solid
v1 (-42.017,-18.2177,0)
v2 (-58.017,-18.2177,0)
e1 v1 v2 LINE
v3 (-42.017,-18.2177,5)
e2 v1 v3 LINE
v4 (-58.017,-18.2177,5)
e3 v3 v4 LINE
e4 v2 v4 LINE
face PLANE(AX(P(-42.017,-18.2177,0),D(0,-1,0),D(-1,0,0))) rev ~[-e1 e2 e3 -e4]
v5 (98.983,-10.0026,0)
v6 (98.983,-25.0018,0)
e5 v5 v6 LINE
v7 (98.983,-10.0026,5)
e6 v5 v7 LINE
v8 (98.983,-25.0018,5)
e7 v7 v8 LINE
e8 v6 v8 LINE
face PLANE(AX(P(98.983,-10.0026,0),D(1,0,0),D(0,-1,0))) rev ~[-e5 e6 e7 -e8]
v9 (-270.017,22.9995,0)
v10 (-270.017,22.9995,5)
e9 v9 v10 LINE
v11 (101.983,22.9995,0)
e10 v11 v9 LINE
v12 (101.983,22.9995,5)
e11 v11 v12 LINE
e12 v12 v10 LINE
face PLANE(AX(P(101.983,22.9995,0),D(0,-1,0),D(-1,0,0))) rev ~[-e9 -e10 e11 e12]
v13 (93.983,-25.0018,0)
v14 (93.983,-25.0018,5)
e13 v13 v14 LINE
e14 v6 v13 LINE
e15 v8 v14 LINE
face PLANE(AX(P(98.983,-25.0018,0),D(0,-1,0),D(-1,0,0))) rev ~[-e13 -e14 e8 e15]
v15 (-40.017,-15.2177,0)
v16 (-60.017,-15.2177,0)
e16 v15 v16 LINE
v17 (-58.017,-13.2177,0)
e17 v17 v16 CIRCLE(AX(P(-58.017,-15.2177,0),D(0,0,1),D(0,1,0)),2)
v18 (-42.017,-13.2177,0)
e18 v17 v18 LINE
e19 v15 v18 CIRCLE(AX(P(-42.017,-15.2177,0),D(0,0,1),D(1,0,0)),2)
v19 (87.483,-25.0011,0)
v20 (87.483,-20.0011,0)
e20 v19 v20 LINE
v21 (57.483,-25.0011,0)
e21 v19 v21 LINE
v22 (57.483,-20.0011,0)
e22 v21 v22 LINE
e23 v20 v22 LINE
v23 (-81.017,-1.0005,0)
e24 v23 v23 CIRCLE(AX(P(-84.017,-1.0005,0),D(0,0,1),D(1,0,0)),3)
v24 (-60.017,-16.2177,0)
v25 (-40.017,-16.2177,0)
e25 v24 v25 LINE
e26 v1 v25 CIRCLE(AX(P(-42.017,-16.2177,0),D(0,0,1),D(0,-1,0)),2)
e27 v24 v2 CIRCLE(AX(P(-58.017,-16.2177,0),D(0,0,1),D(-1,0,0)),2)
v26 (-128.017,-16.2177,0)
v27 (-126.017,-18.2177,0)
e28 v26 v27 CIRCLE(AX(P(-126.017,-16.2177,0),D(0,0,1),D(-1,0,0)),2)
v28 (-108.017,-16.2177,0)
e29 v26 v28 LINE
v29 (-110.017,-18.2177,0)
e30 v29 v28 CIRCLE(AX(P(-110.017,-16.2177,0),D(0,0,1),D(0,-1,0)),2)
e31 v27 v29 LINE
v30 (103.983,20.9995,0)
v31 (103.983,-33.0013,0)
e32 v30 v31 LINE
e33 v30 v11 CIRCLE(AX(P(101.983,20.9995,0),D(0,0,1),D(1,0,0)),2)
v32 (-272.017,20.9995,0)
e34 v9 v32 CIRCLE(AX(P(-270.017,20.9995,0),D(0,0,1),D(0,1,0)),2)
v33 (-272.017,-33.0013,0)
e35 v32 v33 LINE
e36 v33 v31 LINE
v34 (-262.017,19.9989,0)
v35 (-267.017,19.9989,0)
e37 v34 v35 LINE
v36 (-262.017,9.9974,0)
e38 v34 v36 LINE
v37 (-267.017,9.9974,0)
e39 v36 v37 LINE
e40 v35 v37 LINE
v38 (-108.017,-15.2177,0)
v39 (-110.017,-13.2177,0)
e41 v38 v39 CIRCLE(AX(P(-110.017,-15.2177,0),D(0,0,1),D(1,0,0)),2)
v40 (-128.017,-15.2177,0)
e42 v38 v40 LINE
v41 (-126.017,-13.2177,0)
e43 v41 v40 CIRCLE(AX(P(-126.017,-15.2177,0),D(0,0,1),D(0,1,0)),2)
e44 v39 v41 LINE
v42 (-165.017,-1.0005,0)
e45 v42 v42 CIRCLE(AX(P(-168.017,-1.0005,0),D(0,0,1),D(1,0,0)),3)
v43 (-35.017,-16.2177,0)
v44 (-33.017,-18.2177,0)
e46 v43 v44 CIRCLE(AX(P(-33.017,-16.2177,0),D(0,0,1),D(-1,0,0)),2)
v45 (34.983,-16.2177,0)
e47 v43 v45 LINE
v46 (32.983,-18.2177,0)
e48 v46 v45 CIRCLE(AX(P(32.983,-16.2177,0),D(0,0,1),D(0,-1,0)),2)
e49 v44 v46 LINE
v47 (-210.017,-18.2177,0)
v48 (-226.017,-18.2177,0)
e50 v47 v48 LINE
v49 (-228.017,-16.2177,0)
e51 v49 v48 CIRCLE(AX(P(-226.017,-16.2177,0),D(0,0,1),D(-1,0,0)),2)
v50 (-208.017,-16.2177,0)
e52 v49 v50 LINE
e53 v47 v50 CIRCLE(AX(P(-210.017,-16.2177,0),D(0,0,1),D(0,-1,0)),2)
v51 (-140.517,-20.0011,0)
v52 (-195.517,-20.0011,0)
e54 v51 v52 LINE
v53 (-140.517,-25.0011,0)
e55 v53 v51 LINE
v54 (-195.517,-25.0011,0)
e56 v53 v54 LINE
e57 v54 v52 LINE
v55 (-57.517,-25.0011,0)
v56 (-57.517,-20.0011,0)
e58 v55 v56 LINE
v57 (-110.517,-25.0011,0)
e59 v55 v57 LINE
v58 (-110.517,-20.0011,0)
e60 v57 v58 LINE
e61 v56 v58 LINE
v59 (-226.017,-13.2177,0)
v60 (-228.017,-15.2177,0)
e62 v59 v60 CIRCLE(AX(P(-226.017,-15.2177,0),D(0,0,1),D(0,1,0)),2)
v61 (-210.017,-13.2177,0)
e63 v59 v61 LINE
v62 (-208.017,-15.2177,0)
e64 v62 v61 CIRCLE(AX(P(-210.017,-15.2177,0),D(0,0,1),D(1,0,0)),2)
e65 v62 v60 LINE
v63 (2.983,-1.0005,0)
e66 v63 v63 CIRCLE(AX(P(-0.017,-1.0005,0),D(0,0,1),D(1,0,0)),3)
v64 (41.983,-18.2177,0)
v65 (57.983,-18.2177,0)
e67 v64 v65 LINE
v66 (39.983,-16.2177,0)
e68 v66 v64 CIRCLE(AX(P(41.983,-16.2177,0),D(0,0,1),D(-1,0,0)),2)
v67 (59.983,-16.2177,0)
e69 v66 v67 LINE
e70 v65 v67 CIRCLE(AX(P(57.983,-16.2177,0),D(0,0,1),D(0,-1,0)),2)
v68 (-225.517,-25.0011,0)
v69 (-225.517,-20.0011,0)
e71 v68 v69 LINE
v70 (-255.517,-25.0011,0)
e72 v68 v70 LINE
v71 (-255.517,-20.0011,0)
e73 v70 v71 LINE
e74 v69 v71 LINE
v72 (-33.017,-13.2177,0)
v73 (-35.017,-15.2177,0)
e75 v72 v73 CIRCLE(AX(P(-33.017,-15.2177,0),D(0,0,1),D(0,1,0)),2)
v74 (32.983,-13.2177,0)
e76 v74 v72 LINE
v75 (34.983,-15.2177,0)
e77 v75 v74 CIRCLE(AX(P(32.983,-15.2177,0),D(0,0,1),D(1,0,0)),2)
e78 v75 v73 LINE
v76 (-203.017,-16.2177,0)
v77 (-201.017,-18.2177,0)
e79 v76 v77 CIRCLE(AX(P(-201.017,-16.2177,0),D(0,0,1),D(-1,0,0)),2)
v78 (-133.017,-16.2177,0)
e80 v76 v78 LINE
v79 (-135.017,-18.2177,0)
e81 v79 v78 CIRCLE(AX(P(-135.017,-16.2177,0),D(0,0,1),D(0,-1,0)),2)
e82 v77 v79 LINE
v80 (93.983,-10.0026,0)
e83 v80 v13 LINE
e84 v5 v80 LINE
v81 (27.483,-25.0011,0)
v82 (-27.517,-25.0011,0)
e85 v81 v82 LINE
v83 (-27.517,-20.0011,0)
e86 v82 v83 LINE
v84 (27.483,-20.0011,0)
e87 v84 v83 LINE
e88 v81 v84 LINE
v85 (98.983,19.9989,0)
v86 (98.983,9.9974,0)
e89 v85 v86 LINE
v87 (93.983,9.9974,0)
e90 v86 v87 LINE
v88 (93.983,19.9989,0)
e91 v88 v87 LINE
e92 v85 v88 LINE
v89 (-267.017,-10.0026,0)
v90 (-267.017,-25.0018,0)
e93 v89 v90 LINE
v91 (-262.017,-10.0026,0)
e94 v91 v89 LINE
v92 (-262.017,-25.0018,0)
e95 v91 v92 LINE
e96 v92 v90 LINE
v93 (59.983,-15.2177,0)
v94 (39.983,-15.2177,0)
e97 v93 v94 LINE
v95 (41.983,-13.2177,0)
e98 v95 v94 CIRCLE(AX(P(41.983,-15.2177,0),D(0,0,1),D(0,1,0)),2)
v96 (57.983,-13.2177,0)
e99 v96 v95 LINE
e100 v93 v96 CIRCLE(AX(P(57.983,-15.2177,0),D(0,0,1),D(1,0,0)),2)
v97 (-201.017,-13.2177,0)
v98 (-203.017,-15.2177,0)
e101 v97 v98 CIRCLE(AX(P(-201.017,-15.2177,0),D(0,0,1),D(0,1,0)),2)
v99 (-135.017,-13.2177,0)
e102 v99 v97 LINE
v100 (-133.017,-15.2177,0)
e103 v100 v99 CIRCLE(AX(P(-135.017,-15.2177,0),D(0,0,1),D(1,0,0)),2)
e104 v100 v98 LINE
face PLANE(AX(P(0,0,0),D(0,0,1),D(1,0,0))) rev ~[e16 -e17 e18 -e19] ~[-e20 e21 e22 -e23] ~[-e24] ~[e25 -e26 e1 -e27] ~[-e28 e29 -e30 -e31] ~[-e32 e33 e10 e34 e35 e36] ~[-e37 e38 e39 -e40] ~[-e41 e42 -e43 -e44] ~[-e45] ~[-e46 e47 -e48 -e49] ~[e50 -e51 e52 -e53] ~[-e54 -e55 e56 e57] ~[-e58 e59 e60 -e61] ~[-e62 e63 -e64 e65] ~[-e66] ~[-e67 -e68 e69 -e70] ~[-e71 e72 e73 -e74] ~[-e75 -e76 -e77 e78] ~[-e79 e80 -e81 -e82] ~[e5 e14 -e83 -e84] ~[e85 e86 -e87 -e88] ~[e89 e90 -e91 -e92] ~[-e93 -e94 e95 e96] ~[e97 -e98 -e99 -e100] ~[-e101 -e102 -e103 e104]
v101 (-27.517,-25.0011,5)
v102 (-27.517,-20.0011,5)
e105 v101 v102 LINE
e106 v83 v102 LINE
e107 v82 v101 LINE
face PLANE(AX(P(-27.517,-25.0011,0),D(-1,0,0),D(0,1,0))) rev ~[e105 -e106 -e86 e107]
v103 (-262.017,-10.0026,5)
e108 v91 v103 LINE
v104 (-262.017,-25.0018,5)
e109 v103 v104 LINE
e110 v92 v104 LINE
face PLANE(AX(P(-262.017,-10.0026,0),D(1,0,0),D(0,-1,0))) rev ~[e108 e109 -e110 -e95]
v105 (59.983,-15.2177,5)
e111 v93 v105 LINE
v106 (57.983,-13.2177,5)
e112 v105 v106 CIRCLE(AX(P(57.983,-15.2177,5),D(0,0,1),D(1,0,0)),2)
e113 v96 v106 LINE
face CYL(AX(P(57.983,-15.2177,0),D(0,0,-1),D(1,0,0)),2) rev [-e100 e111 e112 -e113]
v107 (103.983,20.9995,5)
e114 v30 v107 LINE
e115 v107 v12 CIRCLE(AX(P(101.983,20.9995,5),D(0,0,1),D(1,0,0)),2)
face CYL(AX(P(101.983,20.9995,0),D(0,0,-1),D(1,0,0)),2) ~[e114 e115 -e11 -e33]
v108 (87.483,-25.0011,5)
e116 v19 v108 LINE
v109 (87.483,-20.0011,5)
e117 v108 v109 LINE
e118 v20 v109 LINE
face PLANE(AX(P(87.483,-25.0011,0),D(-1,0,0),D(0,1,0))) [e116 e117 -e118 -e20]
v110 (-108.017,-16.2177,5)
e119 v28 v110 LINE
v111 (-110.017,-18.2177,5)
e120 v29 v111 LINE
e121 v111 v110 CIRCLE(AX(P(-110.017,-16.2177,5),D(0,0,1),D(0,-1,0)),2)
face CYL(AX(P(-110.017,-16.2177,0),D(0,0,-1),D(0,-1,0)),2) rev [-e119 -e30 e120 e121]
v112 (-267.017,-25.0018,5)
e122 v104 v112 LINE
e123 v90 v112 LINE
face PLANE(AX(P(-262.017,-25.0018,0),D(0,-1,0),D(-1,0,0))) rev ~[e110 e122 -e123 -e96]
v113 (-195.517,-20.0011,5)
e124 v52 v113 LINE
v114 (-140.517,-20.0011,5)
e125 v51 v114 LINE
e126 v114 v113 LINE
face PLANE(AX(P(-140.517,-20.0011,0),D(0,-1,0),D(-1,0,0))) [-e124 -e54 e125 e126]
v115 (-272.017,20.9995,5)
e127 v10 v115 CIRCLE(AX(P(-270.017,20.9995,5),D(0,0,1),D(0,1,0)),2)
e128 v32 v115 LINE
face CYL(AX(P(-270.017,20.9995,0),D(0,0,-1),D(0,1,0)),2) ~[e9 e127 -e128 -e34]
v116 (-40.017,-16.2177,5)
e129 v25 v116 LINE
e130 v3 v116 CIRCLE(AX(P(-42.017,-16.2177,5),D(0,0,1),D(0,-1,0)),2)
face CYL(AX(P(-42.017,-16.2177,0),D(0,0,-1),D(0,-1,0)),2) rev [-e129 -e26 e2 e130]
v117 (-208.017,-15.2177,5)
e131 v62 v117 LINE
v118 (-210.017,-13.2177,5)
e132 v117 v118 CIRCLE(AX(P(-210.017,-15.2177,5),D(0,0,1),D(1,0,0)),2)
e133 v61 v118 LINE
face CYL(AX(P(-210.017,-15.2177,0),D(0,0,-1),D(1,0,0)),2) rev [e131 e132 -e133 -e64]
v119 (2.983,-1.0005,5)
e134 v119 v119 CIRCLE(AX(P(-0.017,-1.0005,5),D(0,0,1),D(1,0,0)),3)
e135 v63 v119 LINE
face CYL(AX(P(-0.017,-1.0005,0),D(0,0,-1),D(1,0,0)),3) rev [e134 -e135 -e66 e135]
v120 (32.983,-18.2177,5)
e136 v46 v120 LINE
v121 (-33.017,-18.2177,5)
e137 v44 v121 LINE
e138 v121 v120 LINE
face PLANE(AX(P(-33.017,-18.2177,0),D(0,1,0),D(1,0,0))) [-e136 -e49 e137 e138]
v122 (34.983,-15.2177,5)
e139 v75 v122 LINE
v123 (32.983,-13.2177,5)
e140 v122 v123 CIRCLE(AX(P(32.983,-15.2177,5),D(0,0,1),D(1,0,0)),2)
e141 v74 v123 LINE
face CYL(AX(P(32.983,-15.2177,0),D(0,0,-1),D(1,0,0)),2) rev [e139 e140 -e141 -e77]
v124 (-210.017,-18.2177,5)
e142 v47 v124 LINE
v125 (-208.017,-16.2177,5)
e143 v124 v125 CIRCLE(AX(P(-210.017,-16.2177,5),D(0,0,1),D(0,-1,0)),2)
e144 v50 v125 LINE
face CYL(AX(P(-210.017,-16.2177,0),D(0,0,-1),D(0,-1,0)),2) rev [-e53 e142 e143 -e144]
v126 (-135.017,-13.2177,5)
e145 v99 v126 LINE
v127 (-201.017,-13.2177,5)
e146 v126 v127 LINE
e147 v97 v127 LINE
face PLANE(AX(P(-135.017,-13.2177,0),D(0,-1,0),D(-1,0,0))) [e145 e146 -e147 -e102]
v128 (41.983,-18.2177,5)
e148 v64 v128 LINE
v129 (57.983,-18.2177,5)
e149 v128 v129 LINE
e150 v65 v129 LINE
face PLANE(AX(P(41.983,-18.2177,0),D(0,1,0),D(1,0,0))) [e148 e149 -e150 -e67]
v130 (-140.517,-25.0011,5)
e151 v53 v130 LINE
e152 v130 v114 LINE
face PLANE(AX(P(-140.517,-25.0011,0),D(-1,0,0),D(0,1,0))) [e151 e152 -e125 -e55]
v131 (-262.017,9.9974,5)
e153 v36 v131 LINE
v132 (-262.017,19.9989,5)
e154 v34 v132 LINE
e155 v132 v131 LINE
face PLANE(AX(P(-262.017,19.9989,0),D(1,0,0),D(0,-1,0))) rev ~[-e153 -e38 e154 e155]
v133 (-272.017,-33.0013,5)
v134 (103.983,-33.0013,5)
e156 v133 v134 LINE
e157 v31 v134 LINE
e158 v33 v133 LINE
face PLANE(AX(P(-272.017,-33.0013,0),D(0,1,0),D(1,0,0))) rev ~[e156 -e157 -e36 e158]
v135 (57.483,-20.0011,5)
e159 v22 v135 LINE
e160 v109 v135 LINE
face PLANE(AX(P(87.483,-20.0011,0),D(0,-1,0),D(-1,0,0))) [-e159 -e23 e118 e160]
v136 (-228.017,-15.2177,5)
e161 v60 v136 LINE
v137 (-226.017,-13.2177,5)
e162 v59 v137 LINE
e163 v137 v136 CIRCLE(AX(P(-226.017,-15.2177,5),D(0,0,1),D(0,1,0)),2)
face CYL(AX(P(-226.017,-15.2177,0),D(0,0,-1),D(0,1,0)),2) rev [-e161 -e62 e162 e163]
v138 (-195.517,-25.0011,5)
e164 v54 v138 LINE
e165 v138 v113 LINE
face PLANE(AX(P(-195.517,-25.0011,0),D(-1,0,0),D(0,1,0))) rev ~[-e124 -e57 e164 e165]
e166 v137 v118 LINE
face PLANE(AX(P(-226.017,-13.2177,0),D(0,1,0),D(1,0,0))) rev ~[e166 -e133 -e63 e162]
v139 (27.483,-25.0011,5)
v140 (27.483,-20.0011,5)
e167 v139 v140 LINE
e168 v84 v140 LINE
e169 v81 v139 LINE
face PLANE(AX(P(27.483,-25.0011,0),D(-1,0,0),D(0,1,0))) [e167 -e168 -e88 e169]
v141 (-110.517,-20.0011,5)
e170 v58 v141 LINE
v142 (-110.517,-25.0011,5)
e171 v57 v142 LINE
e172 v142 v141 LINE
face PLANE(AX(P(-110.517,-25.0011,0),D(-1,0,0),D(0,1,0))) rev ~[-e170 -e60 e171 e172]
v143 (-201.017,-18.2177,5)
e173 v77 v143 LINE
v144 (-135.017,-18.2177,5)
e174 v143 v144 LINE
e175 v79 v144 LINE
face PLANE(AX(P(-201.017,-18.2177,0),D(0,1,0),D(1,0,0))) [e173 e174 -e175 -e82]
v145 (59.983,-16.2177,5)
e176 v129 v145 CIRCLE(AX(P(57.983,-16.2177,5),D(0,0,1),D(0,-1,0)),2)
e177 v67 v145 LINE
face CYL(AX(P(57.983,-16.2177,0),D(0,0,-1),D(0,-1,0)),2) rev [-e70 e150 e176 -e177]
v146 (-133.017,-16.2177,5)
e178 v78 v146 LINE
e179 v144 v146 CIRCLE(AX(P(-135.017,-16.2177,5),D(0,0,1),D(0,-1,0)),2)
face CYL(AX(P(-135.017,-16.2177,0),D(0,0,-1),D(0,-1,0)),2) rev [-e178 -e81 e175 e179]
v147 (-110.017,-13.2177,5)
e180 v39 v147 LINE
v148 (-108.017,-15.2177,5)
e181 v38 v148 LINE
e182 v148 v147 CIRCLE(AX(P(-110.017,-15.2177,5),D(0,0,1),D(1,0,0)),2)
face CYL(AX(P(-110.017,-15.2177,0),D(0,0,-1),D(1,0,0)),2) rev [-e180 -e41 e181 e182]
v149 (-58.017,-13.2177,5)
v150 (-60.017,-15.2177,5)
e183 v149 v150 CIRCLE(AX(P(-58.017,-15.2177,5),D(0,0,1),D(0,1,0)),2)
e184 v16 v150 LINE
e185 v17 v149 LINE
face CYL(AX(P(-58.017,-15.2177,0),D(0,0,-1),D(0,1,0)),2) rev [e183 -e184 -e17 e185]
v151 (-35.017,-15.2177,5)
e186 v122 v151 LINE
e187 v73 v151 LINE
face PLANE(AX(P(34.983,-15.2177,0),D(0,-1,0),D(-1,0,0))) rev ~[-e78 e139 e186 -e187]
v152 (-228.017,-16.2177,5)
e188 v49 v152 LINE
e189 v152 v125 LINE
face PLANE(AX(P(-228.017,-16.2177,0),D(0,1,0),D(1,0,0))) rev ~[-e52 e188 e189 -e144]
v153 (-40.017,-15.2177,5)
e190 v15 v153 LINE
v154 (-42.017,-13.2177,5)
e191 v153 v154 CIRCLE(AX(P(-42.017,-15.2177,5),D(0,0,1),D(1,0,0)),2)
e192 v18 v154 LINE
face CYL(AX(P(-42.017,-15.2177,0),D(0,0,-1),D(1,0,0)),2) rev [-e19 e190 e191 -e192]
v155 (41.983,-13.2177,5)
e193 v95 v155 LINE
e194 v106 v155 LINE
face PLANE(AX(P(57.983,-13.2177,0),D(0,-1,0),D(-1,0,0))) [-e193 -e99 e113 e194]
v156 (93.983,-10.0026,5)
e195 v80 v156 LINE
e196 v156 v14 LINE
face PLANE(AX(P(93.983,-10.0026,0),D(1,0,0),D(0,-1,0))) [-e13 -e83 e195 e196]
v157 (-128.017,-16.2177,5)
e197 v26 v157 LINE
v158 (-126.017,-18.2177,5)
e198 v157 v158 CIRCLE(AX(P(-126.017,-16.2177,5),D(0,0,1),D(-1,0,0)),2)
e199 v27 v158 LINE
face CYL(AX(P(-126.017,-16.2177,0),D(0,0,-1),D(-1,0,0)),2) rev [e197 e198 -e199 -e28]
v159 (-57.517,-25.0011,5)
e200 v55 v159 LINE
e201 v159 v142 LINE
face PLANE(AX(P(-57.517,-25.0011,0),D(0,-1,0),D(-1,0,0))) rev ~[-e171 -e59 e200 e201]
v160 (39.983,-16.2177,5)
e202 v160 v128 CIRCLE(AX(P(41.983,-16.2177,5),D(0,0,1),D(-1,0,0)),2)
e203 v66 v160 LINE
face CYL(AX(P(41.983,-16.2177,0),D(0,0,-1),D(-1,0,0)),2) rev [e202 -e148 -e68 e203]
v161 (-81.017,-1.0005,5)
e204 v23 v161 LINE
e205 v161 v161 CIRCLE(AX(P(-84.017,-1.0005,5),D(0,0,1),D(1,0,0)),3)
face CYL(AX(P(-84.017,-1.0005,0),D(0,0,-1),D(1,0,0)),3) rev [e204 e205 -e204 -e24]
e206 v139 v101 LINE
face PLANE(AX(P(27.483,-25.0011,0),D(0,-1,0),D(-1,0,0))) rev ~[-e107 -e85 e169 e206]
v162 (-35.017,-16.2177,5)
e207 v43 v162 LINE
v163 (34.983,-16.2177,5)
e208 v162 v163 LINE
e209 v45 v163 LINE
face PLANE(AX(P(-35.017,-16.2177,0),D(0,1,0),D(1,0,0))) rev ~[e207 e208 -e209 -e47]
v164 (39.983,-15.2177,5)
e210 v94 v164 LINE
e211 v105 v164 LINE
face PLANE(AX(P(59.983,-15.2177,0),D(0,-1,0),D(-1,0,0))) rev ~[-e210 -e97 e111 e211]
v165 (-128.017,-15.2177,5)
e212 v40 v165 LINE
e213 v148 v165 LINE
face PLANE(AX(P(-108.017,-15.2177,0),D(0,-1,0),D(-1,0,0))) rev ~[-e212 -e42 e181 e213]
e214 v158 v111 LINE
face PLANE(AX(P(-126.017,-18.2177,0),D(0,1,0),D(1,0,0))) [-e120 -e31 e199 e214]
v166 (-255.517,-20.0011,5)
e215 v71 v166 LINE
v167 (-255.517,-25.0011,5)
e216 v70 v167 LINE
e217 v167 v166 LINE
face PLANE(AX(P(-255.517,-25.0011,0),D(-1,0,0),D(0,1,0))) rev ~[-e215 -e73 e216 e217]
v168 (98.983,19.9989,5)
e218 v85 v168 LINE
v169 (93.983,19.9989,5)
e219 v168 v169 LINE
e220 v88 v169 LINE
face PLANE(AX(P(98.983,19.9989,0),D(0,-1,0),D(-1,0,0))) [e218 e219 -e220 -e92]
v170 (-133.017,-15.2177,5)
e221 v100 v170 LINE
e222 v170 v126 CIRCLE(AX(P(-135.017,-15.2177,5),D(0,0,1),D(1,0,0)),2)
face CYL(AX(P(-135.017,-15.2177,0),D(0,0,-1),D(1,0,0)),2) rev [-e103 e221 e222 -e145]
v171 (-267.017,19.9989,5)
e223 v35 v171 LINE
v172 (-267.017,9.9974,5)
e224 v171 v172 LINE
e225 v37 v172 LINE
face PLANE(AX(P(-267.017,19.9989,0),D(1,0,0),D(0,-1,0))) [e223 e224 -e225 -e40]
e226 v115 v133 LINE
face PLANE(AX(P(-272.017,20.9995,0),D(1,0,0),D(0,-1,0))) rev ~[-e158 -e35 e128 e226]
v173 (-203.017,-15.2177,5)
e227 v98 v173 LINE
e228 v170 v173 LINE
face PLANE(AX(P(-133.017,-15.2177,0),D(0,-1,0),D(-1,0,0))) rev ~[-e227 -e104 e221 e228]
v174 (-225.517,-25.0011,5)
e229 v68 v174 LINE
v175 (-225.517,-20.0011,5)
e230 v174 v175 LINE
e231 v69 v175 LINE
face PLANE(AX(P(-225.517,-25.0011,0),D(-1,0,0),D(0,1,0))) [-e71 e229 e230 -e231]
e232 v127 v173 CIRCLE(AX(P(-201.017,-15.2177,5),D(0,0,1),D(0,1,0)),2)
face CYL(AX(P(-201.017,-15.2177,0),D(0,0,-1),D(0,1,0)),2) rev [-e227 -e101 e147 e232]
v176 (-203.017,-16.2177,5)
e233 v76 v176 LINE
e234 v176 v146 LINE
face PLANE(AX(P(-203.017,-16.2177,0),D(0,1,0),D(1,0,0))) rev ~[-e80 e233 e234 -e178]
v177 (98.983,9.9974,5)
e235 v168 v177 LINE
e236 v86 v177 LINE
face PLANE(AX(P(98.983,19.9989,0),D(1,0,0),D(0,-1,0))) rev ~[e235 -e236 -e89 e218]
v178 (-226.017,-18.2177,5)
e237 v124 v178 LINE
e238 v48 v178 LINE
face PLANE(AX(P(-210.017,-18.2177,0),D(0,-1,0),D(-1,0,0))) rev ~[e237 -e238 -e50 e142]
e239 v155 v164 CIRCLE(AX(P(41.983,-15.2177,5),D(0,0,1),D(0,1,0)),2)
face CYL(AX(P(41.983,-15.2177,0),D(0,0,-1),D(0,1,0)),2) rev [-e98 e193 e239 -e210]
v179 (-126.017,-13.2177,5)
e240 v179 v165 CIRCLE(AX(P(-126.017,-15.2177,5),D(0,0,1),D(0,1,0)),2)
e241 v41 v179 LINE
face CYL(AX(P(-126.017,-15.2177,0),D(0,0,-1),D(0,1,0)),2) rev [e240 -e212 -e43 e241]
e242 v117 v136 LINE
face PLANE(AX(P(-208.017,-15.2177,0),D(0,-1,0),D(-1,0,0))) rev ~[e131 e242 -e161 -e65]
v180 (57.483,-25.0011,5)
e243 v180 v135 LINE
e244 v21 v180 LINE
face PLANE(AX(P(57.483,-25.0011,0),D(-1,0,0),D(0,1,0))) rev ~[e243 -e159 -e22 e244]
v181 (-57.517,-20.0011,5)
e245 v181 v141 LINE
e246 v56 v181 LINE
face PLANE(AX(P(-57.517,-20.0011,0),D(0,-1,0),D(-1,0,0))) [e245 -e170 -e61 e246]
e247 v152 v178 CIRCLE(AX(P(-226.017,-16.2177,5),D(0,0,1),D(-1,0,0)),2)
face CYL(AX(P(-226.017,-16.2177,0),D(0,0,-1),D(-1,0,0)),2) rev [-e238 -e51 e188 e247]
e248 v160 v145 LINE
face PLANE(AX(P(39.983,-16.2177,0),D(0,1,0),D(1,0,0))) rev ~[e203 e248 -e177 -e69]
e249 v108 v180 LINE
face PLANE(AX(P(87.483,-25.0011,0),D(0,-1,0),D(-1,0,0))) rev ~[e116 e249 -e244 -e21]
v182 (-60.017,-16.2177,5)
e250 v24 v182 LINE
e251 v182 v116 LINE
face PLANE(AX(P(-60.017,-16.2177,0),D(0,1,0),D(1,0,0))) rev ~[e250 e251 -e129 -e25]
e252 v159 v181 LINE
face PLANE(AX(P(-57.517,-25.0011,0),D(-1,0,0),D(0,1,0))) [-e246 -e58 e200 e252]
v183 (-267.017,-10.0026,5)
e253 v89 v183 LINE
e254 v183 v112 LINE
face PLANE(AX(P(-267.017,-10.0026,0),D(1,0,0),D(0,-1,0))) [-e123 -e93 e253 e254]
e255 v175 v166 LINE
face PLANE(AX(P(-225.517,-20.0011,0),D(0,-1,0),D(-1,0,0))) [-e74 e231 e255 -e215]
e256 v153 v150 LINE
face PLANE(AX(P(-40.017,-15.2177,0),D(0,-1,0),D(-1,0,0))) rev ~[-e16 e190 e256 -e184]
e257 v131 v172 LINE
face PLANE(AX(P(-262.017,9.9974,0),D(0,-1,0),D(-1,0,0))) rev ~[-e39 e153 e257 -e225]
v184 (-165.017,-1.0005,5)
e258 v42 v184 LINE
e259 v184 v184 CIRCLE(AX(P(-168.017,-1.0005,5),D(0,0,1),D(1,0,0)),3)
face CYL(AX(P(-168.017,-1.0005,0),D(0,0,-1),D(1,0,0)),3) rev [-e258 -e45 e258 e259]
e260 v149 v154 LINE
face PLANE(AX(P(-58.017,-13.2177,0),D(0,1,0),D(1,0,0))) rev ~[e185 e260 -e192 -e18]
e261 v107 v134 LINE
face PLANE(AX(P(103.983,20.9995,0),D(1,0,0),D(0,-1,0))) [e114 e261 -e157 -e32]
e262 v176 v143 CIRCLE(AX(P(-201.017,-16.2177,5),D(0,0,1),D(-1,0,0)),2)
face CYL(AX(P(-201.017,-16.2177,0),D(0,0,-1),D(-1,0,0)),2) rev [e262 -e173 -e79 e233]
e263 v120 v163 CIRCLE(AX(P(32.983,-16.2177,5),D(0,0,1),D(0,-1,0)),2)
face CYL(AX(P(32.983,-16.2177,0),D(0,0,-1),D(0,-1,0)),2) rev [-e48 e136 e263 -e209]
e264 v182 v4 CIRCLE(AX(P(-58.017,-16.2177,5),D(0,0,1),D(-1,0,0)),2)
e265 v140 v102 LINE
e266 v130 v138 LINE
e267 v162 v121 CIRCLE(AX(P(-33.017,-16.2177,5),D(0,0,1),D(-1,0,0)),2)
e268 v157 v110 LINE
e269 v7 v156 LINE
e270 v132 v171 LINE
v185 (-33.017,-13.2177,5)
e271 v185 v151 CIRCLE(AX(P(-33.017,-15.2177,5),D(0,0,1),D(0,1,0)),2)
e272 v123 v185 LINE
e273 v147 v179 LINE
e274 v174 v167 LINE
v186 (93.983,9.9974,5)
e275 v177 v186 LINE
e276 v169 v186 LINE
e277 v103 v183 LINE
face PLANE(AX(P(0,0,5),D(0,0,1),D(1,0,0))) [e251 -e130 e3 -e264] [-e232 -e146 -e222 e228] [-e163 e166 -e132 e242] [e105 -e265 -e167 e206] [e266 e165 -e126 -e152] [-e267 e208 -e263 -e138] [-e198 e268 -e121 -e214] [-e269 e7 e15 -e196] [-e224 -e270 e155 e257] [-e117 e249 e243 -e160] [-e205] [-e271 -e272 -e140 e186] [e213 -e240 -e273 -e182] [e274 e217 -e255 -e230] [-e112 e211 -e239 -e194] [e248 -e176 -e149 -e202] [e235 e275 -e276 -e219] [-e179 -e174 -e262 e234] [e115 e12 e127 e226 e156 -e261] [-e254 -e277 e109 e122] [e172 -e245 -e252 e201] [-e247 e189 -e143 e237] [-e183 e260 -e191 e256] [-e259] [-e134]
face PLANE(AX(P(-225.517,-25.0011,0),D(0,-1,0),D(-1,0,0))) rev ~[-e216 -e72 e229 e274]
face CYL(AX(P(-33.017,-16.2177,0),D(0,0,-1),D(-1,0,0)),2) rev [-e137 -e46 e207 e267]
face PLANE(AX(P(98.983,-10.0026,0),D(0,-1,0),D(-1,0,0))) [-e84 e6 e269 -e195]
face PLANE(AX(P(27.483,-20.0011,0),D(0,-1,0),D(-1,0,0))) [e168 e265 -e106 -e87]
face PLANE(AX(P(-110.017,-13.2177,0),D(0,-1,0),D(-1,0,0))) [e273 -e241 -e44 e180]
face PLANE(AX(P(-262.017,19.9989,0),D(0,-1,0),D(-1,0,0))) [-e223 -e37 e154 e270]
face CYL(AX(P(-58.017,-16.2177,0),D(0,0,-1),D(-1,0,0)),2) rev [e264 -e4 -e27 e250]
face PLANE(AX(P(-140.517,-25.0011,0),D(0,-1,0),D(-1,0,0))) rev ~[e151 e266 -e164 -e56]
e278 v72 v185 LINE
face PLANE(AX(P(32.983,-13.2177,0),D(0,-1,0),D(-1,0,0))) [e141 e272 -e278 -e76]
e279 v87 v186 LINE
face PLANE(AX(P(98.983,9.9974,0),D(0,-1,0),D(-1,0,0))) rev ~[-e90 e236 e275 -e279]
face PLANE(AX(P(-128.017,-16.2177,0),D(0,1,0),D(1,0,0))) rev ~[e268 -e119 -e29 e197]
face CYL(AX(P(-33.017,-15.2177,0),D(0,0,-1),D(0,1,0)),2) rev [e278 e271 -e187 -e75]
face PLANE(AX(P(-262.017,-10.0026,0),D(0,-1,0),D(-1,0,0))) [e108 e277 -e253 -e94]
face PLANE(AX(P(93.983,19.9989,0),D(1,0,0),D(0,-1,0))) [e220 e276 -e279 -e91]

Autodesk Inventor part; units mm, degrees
ref_plane "YZ Plane" through (0, 0, 0) normal (1, 0, 0) x (0, 1, 0)
ref_plane "XZ Plane" through (0, 0, 0) normal (0, 1, 0) x (-1, 0, 0)
ref_plane "XY Plane" through (0, 0, 0) normal (0, 0, 1) x (1, 0, 0)
sketch "Sketch1" plane through (0, 0, 0) normal (0, 0, 1) x (1, 0, 0)
  line L0 (57.983, -13.2177) -> (41.983, -13.2177)
  line L1 (41.983, -18.2177) -> (57.983, -18.2177)
  line L2 (-58.017, -13.2177) -> (-42.017, -13.2177)
  line L3 (-42.017, -18.2177) -> (-58.017, -18.2177)
  line L4 (32.983, -13.2177) -> (-33.017, -13.2177)
  line L5 (-33.017, -18.2177) -> (32.983, -18.2177)
  arc A0 (34.983, -15.2177) -> (32.983, -13.2177) centre (32.983, -15.2177) ccw
  arc A1 (-35.017, -16.2177) -> (-33.017, -18.2177) centre (-33.017, -16.2177) ccw
  arc A2 (-33.017, -13.2177) -> (-35.017, -15.2177) centre (-33.017, -15.2177) ccw
  arc A3 (-40.017, -15.2177) -> (-42.017, -13.2177) centre (-42.017, -15.2177) ccw
  arc A4 (-42.017, -18.2177) -> (-40.017, -16.2177) centre (-42.017, -16.2177) ccw
  arc A5 (-60.017, -16.2177) -> (-58.017, -18.2177) centre (-58.017, -16.2177) ccw
  arc A6 (-58.017, -13.2177) -> (-60.017, -15.2177) centre (-58.017, -15.2177) ccw
  arc A7 (39.983, -16.2177) -> (41.983, -18.2177) centre (41.983, -16.2177) ccw
  arc A8 (41.983, -13.2177) -> (39.983, -15.2177) centre (41.983, -15.2177) ccw
  arc A9 (59.983, -15.2177) -> (57.983, -13.2177) centre (57.983, -15.2177) ccw
  arc A10 (57.983, -18.2177) -> (59.983, -16.2177) centre (57.983, -16.2177) ccw
  arc A11 (32.983, -18.2177) -> (34.983, -16.2177) centre (32.983, -16.2177) ccw
  line L6 (59.983, -15.2177) -> (39.983, -15.2177)
  line L7 (39.983, -16.2177) -> (59.983, -16.2177)
  line L8 (34.983, -15.2177) -> (-35.017, -15.2177)
  line L9 (-35.017, -16.2177) -> (34.983, -16.2177)
  line L10 (-40.017, -15.2177) -> (-60.017, -15.2177)
  line L11 (-60.017, -16.2177) -> (-40.017, -16.2177)
  line L12 (-57.517, -25.0011) -> (-110.517, -25.0011) projected
  line L13 (-110.517, -25.0011) -> (-110.517, -20.0011) projected
  line L14 (-57.517, -20.0011) -> (-110.517, -20.0011) projected
  line L15 (-57.517, -25.0011) -> (-57.517, -20.0011) projected
  line L16 (-140.517, -25.0011) -> (-195.517, -25.0011) projected
  line L17 (-195.517, -25.0011) -> (-195.517, -20.0011) projected
  line L18 (-140.517, -20.0011) -> (-195.517, -20.0011) projected
  line L19 (-140.517, -25.0011) -> (-140.517, -20.0011) projected
  line L20 (-225.517, -25.0011) -> (-255.517, -25.0011) projected
  line L21 (-255.517, -25.0011) -> (-255.517, -20.0011) projected
  line L22 (-225.517, -20.0011) -> (-255.517, -20.0011) projected
  line L23 (-225.517, -25.0011) -> (-225.517, -20.0011) projected
  line L24 (-272.017, -33.0013) -> (103.983, -33.0013)
  line L25 (98.983, 19.9989) -> (98.983, 9.9974) projected
  line L26 (98.983, 9.9974) -> (93.983, 9.9974) projected
  line L27 (93.983, 19.9989) -> (93.983, 9.9974) projected
  line L28 (98.983, 19.9989) -> (93.983, 19.9989) projected
  line L29 (98.983, -10.0026) -> (98.983, -25.0018) projected
  line L30 (98.983, -25.0018) -> (93.983, -25.0018) projected
  line L31 (93.983, -10.0026) -> (93.983, -25.0018) projected
  line L32 (98.983, -10.0026) -> (93.983, -10.0026) projected
  line L33 (-262.017, -10.0026) -> (-262.017, -25.0018) projected
  line L34 (-262.017, -25.0018) -> (-267.017, -25.0018) projected
  line L35 (-267.017, -10.0026) -> (-267.017, -25.0018) projected
  line L36 (-262.017, -10.0026) -> (-267.017, -10.0026) projected
  line L37 (-262.017, 19.9989) -> (-262.017, 9.9974) projected
  line L38 (-262.017, 9.9974) -> (-267.017, 9.9974) projected
  line L39 (-267.017, 19.9989) -> (-267.017, 9.9974) projected
  line L40 (-262.017, 19.9989) -> (-267.017, 19.9989) projected
  line L41 (-110.017, -13.2177) -> (-126.017, -13.2177)
  line L42 (-126.017, -18.2177) -> (-110.017, -18.2177)
  line L43 (-226.017, -13.2177) -> (-210.017, -13.2177)
  line L44 (-210.017, -18.2177) -> (-226.017, -18.2177)
  line L45 (-135.017, -13.2177) -> (-201.017, -13.2177)
  line L46 (-201.017, -18.2177) -> (-135.017, -18.2177)
  arc A12 (-133.017, -15.2177) -> (-135.017, -13.2177) centre (-135.017, -15.2177) ccw
  arc A13 (-203.017, -16.2177) -> (-201.017, -18.2177) centre (-201.017, -16.2177) ccw
  arc A14 (-201.017, -13.2177) -> (-203.017, -15.2177) centre (-201.017, -15.2177) ccw
  arc A15 (-208.017, -15.2177) -> (-210.017, -13.2177) centre (-210.017, -15.2177) ccw
  arc A16 (-210.017, -18.2177) -> (-208.017, -16.2177) centre (-210.017, -16.2177) ccw
  arc A17 (-228.017, -16.2177) -> (-226.017, -18.2177) centre (-226.017, -16.2177) ccw
  arc A18 (-226.017, -13.2177) -> (-228.017, -15.2177) centre (-226.017, -15.2177) ccw
  arc A19 (-128.017, -16.2177) -> (-126.017, -18.2177) centre (-126.017, -16.2177) ccw
  arc A20 (-126.017, -13.2177) -> (-128.017, -15.2177) centre (-126.017, -15.2177) ccw
  arc A21 (-108.017, -15.2177) -> (-110.017, -13.2177) centre (-110.017, -15.2177) ccw
  arc A22 (-110.017, -18.2177) -> (-108.017, -16.2177) centre (-110.017, -16.2177) ccw
  arc A23 (-135.017, -18.2177) -> (-133.017, -16.2177) centre (-135.017, -16.2177) ccw
  line L47 (-108.017, -15.2177) -> (-128.017, -15.2177)
  line L48 (-128.017, -16.2177) -> (-108.017, -16.2177)
  line L49 (-133.017, -15.2177) -> (-203.017, -15.2177)
  line L50 (-203.017, -16.2177) -> (-133.017, -16.2177)
  line L51 (-208.017, -15.2177) -> (-228.017, -15.2177)
  line L52 (-228.017, -16.2177) -> (-208.017, -16.2177)
  line L53 (87.483, -25.0011) -> (57.483, -25.0011) projected
  line L54 (57.483, -25.0011) -> (57.483, -20.0011) projected
  line L55 (87.483, -20.0011) -> (57.483, -20.0011) projected
  line L56 (87.483, -25.0011) -> (87.483, -20.0011) projected
  line L57 (27.483, -25.0011) -> (-27.517, -25.0011) projected
  line L58 (-27.517, -25.0011) -> (-27.517, -20.0011) projected
  line L59 (27.483, -20.0011) -> (-27.517, -20.0011) projected
  line L60 (27.483, -25.0011) -> (27.483, -20.0011) projected
  circle A24 centre (-84.017, -1.0005) radius 3
  line L61 (103.983, 20.9995) -> (103.983, -33.0013)
  circle A25 centre (-0.017, -1.0005) radius 3
  line L62 (-272.017, 20.9995) -> (-272.017, -33.0013)
  circle A26 centre (-168.017, -1.0005) radius 3
  line L63 (101.983, 22.9995) -> (-270.017, 22.9995)
  arc A27 (103.983, 20.9995) -> (101.983, 22.9995) centre (101.983, 20.9995) ccw
  arc A28 (-270.017, 22.9995) -> (-272.017, 20.9995) centre (-270.017, 20.9995) ccw
  point P0 (103.983, 22.9995)
  point P1 (59.983, -13.2177)
  point P2 (59.983, -18.2177)
  point P3 (59.983, -16.2177)
  point P4 (-108.017, -13.2177)
  point P5 (-108.017, -18.2177)
  point P6 (-272.017, 22.9995)
  dimension "d17" = 5
  dimension "d27" = 2
  dimension "d36" = 5
  dimension "d37" = 2
  dimension "d39" = 6
  dimension "d40" = 6
  dimension "d42" = 188
  dimension "d44" = 376
  dimension "d45" = 188
  dimension "d46" = 84
  dimension "d47" = 6
  dimension "d48" = 84
  dimension "d50" = 2
extrude "Extrusion1" add sketch "Sketch1" along normal blind 5
properties part number "case top front" material "ABS Plastic"
